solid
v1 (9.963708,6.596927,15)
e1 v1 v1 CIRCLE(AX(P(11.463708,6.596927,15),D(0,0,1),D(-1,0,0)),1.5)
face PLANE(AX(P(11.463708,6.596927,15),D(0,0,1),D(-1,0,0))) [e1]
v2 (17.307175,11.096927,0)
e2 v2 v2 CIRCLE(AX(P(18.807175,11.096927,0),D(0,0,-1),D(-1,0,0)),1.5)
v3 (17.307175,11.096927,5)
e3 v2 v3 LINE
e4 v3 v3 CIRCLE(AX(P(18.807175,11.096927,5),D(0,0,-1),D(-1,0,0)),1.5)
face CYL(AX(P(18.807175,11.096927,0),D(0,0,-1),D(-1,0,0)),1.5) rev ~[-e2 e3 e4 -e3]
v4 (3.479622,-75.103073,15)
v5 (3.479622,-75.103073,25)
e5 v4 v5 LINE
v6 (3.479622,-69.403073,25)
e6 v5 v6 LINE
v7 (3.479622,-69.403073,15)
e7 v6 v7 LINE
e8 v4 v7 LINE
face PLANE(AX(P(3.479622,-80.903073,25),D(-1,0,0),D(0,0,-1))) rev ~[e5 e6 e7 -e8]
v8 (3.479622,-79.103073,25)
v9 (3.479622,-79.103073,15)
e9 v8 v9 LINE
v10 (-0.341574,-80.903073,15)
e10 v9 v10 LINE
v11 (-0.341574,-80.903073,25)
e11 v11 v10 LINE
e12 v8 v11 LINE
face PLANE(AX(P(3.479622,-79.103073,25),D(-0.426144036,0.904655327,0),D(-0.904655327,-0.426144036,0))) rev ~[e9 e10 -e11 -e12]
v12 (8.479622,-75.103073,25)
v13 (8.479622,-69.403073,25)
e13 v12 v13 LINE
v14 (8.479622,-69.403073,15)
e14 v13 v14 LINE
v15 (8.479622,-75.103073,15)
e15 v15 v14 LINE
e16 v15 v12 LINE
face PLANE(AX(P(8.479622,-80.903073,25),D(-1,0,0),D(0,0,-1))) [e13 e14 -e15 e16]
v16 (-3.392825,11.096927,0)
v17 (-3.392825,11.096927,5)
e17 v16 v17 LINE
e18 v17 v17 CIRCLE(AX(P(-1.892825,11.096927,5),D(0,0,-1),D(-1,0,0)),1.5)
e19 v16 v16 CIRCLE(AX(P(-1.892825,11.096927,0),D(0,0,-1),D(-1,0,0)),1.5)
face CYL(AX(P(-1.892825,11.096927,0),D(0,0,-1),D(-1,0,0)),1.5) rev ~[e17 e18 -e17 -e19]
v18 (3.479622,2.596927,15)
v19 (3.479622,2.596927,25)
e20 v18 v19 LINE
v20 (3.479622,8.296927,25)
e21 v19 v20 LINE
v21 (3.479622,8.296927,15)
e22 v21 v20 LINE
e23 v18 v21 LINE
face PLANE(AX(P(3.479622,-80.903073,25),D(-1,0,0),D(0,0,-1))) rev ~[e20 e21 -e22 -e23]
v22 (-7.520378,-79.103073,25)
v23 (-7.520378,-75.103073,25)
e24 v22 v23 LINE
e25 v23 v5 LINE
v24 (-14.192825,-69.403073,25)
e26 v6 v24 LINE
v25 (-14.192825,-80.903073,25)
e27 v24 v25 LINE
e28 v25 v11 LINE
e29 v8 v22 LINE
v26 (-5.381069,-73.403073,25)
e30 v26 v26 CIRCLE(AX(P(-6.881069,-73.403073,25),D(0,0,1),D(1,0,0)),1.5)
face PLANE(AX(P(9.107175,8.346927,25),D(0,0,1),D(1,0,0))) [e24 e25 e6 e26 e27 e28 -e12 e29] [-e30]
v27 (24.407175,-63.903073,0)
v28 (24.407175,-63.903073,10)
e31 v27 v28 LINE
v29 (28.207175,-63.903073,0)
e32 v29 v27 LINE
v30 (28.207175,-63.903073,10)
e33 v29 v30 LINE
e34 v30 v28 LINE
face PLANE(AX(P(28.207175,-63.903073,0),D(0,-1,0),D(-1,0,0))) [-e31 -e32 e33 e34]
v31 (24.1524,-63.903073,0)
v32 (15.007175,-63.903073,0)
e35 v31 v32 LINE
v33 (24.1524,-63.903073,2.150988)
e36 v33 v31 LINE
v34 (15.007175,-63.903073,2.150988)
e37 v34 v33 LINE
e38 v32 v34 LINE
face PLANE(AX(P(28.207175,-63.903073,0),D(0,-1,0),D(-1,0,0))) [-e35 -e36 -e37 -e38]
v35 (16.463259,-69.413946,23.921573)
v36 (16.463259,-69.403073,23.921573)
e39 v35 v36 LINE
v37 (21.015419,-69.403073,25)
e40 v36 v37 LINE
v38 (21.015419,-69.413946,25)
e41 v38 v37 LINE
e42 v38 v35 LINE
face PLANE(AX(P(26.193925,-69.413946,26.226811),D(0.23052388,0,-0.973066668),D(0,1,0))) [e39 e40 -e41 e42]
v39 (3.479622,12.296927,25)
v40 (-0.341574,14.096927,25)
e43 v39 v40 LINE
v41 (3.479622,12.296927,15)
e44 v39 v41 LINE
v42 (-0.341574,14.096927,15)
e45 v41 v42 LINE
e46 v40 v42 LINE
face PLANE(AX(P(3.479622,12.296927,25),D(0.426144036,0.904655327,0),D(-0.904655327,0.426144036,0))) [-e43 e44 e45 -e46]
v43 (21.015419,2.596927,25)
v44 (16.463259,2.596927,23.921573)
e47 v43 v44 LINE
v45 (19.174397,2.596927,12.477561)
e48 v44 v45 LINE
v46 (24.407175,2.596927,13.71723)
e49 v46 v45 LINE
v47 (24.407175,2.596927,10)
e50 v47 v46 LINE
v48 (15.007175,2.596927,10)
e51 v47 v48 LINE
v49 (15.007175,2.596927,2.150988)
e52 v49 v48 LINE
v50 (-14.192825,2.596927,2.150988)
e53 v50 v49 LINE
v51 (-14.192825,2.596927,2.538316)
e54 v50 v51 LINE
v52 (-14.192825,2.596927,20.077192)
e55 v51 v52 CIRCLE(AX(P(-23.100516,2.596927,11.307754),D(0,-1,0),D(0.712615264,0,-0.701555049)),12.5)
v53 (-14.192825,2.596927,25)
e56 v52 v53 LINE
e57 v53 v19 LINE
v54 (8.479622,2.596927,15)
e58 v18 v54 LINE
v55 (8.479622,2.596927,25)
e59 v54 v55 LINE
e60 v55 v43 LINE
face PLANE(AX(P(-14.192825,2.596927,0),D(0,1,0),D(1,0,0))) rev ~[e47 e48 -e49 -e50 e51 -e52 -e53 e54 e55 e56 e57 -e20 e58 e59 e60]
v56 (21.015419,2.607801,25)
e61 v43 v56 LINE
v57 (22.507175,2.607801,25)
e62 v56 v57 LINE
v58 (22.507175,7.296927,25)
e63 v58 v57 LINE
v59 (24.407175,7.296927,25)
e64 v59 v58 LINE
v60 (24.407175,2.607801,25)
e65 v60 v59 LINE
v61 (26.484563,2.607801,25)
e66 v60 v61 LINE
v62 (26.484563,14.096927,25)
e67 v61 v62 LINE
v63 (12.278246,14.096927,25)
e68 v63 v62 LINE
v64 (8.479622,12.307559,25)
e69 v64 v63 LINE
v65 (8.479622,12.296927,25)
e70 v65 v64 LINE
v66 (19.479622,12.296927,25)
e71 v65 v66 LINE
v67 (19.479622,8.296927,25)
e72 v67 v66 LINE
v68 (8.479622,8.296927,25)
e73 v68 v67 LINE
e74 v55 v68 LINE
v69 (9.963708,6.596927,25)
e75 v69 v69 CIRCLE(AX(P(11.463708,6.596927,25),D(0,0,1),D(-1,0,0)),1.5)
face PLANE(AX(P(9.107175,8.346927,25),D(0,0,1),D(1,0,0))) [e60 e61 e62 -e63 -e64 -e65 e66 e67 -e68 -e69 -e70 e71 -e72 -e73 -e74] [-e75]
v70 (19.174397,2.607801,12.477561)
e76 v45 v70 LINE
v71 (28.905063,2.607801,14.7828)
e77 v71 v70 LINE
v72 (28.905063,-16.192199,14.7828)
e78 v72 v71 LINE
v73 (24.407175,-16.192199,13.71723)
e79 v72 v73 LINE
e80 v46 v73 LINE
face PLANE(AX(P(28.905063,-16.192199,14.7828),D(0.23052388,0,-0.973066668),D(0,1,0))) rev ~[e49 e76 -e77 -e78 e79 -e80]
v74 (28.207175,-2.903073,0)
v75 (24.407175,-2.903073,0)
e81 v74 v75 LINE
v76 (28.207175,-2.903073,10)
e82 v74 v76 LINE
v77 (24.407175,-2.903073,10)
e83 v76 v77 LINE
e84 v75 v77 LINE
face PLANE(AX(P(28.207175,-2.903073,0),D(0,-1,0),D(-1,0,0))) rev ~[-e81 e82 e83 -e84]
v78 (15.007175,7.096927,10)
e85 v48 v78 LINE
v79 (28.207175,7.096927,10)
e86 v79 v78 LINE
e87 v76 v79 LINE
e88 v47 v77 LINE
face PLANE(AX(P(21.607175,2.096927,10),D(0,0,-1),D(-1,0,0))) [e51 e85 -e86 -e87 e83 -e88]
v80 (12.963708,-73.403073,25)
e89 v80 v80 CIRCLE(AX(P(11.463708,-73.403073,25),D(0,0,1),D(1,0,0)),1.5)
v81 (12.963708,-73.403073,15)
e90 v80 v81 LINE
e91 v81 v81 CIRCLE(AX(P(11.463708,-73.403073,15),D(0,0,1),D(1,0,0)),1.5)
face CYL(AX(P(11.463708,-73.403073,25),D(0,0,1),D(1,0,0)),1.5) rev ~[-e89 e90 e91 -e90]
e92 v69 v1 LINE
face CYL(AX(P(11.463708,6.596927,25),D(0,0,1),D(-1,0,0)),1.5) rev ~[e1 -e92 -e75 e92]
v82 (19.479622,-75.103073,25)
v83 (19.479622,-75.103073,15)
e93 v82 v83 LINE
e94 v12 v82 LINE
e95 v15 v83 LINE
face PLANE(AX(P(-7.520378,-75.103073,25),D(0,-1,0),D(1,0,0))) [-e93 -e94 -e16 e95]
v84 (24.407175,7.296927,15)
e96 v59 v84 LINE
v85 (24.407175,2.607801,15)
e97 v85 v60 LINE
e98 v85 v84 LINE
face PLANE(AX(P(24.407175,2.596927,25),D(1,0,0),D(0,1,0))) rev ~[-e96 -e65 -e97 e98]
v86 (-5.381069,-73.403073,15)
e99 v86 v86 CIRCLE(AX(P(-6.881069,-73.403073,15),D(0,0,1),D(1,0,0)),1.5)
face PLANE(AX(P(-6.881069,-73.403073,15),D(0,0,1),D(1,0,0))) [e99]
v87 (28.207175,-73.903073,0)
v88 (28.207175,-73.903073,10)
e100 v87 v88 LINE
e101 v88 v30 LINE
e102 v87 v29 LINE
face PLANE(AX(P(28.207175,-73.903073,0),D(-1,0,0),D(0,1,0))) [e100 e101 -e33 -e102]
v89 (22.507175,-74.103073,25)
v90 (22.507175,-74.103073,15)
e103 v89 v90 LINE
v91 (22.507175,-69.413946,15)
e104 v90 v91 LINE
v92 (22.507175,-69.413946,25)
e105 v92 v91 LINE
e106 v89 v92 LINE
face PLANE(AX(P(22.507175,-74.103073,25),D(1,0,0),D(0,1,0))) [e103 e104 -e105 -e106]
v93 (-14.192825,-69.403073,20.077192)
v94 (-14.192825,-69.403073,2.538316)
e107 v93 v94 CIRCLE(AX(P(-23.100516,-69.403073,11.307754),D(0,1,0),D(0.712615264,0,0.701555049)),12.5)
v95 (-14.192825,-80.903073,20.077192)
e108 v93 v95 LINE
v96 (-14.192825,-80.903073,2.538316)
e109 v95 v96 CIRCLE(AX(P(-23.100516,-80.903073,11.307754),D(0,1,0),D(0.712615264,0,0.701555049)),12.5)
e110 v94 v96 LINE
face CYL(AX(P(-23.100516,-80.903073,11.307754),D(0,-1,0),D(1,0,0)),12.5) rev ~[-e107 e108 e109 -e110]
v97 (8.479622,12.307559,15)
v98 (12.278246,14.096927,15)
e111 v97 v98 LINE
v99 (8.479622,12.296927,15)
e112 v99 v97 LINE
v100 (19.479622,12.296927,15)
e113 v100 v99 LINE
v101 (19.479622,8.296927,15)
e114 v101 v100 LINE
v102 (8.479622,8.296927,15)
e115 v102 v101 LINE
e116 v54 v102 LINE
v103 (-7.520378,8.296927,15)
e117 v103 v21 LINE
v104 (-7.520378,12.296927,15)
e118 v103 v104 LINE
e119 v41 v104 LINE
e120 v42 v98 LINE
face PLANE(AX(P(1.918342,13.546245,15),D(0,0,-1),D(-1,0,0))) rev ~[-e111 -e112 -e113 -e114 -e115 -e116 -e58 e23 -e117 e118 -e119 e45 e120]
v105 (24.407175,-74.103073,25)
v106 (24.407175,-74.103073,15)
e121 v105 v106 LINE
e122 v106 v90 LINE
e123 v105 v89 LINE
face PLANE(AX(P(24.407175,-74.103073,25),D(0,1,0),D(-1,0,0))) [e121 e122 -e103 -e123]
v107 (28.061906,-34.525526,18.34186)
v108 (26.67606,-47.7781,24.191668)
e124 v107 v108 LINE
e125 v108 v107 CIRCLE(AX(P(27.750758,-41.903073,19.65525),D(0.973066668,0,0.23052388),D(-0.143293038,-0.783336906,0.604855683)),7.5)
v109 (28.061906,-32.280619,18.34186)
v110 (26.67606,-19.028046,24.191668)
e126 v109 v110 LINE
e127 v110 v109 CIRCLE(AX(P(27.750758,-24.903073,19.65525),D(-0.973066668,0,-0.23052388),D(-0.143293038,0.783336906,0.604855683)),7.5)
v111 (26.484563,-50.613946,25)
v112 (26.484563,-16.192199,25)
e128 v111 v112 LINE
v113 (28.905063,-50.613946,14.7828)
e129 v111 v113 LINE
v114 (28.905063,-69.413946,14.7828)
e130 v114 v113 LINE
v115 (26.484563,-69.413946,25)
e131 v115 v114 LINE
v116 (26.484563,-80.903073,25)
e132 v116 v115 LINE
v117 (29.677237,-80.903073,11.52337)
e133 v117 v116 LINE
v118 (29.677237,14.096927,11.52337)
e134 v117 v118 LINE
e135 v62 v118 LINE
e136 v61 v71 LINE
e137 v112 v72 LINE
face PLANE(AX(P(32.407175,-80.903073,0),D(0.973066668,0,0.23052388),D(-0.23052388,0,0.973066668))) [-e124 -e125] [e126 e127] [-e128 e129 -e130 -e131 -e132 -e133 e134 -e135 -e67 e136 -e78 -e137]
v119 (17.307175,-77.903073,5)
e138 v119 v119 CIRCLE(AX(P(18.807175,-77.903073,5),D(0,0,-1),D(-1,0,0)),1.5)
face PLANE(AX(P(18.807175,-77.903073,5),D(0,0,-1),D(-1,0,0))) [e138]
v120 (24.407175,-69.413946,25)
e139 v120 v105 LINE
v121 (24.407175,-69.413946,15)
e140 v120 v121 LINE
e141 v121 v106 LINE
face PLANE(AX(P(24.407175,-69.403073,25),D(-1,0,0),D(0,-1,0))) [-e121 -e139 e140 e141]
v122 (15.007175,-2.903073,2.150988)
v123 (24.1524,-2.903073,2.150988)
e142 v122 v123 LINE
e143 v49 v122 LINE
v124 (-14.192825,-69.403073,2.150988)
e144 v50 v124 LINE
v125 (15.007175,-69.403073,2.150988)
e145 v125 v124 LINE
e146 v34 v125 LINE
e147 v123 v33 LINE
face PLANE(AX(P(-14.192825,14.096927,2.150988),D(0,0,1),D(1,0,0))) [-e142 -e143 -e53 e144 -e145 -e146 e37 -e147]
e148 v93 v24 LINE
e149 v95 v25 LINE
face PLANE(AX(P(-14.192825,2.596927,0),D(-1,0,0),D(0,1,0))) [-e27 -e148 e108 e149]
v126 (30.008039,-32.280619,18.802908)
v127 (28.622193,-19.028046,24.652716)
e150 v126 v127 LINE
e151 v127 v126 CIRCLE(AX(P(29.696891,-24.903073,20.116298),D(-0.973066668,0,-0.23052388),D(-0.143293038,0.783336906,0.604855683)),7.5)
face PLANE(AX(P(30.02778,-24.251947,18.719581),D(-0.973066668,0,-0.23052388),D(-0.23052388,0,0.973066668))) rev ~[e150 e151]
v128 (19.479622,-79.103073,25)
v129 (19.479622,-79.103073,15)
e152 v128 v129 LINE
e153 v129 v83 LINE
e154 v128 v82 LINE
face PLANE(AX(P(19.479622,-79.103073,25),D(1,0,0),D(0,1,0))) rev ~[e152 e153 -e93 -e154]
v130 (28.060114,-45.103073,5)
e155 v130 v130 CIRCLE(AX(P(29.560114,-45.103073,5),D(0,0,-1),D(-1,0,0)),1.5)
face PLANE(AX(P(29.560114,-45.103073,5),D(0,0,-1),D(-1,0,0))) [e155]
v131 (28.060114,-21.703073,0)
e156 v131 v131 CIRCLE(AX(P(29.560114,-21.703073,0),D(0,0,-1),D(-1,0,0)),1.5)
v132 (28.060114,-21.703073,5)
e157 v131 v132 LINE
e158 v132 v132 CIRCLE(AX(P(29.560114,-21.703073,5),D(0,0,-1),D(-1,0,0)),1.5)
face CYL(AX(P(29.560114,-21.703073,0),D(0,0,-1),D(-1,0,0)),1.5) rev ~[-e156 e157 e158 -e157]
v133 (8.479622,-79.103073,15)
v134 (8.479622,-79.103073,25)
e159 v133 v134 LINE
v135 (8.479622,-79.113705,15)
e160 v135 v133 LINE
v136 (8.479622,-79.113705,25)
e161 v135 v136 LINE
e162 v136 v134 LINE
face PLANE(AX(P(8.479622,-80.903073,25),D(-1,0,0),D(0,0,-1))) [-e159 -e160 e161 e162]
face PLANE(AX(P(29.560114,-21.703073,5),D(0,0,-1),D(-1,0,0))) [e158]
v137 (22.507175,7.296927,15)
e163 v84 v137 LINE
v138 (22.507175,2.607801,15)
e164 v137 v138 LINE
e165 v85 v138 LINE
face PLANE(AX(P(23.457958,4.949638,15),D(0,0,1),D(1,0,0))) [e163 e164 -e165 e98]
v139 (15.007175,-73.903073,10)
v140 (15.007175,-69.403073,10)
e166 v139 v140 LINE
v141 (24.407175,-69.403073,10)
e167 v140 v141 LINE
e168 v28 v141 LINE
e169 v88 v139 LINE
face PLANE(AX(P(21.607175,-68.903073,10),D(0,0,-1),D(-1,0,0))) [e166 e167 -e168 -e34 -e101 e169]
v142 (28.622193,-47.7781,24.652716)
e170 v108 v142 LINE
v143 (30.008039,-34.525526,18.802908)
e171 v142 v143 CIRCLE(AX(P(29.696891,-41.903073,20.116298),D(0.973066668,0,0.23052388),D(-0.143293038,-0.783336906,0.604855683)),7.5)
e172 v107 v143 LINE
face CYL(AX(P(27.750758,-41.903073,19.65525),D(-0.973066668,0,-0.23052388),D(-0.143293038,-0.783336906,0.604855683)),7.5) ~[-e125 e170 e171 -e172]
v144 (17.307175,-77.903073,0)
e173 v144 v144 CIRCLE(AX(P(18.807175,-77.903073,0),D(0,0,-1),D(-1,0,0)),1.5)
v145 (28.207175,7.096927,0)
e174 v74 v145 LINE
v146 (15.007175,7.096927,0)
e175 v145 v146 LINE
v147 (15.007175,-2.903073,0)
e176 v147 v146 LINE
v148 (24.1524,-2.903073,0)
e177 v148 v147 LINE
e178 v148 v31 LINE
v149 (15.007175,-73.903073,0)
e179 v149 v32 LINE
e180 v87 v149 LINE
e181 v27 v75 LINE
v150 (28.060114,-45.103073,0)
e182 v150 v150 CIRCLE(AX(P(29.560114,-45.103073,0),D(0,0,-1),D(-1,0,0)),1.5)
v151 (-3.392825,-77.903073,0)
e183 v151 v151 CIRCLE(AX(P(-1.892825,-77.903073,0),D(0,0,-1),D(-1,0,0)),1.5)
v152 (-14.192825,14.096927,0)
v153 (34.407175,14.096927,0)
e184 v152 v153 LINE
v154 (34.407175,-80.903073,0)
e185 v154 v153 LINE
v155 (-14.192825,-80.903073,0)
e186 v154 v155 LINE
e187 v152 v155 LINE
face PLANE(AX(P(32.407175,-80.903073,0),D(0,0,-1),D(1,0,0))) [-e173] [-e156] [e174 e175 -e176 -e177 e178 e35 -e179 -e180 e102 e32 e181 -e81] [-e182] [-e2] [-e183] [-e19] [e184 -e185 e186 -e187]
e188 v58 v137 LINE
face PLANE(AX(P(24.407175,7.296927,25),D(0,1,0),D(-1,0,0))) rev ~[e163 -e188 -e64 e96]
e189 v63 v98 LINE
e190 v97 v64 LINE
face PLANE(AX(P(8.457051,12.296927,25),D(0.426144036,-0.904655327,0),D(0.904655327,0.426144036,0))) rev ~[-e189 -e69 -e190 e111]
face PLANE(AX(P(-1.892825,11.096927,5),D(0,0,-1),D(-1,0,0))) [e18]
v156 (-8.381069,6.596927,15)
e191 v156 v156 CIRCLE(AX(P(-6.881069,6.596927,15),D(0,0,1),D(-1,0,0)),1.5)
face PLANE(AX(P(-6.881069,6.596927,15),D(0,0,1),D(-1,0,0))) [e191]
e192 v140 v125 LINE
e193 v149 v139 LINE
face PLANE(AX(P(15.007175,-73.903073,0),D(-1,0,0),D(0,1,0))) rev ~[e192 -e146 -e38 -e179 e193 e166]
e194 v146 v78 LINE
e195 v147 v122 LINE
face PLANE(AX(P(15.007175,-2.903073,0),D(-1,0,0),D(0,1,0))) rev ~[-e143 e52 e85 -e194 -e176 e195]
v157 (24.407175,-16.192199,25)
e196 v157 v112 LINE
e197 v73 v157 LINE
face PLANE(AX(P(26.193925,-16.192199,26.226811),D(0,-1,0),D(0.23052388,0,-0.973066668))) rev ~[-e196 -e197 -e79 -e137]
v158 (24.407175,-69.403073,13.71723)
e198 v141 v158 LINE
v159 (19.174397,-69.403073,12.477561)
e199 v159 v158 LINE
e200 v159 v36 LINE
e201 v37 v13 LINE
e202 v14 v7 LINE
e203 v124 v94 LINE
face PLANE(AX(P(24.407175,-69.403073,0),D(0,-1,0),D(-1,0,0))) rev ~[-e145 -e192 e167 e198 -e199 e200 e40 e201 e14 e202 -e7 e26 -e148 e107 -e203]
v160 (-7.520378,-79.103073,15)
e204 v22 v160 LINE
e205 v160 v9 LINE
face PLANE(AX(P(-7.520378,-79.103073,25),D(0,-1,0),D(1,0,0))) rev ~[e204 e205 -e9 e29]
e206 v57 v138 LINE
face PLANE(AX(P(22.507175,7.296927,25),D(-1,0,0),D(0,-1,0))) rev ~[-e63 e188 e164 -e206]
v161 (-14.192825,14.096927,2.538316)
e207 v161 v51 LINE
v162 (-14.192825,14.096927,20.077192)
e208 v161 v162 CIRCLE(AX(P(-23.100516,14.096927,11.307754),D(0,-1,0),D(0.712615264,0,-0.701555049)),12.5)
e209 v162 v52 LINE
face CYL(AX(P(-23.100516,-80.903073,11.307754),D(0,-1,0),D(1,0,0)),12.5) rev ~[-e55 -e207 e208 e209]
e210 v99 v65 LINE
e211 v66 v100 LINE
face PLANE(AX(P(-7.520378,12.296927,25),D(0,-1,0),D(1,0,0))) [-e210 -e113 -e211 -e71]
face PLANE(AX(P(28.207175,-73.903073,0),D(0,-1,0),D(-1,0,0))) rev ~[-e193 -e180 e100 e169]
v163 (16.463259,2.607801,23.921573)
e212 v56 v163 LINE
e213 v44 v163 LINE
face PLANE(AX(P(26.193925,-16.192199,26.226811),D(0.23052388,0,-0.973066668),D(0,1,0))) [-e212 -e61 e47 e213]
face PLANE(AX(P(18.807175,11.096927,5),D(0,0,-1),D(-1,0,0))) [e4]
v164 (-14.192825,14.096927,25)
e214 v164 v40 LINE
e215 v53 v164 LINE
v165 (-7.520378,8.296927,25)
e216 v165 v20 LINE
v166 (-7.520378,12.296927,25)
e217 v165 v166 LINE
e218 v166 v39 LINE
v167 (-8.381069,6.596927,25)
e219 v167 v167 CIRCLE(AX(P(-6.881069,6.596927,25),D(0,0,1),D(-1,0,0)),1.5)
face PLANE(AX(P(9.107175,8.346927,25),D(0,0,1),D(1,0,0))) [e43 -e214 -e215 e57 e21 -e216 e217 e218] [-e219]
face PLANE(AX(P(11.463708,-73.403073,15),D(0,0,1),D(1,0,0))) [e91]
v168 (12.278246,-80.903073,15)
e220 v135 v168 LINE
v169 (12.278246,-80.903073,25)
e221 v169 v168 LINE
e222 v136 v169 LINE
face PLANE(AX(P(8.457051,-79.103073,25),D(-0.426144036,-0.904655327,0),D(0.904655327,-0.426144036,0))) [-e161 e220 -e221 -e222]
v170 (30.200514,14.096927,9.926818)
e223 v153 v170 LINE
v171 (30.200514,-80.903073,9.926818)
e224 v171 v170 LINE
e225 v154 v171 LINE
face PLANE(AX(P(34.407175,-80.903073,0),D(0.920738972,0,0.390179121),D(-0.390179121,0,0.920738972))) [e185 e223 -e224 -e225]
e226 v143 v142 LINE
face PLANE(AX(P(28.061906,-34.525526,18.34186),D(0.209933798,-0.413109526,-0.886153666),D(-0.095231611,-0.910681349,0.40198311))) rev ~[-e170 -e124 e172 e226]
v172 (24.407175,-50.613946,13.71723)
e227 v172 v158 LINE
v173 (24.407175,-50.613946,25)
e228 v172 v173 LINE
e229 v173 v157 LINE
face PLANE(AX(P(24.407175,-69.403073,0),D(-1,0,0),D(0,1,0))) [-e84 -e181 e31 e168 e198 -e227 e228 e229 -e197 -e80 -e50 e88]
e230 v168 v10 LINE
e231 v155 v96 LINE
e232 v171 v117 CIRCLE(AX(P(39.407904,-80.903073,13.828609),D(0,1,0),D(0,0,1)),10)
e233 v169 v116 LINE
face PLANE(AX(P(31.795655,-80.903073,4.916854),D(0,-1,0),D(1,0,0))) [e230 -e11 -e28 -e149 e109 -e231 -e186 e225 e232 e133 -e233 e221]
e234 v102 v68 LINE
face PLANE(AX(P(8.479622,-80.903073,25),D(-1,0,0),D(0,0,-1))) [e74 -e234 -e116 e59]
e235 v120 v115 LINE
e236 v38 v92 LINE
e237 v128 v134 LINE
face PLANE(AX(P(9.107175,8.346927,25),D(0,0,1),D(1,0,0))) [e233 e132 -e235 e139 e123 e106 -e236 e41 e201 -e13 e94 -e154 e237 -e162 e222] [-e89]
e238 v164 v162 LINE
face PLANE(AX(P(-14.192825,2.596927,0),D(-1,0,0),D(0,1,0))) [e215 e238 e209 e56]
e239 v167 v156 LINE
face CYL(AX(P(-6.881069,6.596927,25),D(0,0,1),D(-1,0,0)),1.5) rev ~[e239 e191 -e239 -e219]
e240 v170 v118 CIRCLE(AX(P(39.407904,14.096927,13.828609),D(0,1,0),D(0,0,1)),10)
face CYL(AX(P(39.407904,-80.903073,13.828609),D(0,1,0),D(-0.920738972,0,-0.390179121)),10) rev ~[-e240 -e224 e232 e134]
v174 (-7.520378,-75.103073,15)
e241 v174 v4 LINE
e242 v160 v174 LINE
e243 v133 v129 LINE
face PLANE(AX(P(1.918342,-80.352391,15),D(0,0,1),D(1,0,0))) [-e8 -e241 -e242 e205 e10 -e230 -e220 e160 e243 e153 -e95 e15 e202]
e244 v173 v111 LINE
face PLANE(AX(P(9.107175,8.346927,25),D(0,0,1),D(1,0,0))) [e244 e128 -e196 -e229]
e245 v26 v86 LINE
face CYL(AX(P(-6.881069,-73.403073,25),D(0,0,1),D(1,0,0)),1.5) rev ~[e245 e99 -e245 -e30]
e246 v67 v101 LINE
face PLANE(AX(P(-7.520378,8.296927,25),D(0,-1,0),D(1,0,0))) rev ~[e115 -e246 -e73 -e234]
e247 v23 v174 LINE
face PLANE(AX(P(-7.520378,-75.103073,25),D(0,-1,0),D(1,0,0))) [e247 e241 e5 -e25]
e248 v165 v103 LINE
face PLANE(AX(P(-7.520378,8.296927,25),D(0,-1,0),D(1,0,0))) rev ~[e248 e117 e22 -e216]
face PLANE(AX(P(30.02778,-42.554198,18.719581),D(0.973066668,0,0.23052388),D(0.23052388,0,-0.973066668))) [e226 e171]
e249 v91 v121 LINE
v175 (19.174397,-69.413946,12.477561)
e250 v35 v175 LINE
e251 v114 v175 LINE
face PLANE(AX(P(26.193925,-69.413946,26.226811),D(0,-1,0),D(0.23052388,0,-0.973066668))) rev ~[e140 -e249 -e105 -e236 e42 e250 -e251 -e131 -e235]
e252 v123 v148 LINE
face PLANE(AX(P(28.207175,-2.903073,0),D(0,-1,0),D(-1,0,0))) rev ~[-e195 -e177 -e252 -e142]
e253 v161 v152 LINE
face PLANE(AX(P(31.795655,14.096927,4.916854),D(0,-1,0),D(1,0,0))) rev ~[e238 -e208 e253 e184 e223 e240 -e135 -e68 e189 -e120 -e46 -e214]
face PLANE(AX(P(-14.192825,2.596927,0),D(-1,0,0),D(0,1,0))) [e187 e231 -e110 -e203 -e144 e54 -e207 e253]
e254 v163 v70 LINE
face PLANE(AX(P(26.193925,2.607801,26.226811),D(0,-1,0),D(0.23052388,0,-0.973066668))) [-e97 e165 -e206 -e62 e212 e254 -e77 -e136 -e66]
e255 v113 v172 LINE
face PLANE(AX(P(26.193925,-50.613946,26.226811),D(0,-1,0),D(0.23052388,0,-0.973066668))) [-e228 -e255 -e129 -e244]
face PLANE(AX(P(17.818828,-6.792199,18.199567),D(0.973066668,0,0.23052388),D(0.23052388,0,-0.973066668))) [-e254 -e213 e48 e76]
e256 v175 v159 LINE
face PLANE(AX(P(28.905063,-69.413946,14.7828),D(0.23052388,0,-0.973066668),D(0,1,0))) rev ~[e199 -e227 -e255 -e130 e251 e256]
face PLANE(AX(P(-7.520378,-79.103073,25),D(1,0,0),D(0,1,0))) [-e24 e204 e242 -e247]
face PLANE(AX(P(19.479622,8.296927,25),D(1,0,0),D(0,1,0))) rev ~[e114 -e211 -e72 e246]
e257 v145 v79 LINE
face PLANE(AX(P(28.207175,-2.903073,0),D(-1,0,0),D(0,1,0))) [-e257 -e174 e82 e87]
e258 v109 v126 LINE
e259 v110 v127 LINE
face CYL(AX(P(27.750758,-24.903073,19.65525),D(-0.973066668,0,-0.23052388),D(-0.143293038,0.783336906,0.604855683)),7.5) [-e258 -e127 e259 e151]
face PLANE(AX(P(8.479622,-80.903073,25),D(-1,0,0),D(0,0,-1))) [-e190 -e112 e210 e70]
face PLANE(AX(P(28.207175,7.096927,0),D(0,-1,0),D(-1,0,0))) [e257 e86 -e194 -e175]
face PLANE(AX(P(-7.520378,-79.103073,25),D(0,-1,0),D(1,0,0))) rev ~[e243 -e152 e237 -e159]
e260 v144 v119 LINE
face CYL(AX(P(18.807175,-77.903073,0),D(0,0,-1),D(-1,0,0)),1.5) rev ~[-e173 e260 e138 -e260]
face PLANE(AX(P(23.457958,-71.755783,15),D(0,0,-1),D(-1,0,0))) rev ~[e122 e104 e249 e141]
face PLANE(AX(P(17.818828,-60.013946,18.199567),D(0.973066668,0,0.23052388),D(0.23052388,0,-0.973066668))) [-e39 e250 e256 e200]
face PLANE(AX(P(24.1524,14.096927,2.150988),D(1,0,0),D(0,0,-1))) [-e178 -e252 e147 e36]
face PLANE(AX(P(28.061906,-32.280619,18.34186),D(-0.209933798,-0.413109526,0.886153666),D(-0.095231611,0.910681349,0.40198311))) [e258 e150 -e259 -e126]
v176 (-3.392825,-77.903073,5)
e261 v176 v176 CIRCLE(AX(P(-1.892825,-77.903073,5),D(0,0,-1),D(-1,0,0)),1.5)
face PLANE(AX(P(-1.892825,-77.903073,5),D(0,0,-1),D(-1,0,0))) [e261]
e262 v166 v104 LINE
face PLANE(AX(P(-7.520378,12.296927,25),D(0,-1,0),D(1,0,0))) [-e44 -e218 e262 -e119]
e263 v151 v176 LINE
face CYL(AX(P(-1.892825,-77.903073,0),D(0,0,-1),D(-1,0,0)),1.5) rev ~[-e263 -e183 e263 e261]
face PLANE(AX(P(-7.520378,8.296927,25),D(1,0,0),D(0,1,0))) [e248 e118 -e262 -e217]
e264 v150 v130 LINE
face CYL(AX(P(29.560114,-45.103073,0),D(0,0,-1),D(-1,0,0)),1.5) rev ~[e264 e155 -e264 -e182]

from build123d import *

# Parameters (mm, degrees)
CROQUIS1_W              = 46.6
CROQUIS1_H              = 11.5
CROQUIS1_W_2            = 8
CROQUIS1_H_2            = 72
SALIENTE_EXTRUIR1_DEPTH = 25
CROQUIS3_W              = 30
CROQUIS3_H              = 5
CORTAR_EXTRUIR1_DEPTH   = 100
CROQUIS4_W              = 5
CROQUIS4_H              = 10
CORTAR_EXTRUIR2_DEPTH   = 2000
CORTAR_EXTRUIR3_DEPTH   = 2000
CROQUIS7_W              = 38.34522513
CROQUIS7_H              = 2.150988128
SALIENTE_EXTRUIR2_DEPTH = 90
CROQUIS8_W              = 13.2
CROQUIS8_H              = 10
CORTAR_EXTRUIR4_DEPTH   = 10
SALIENTE_EXTRUIR3_DEPTH = 95
CROQUIS10_R             = 12.5
CORTAR_EXTRUIR5_DEPTH   = 95
SALIENTE_EXTRUIR4_DEPTH = 2
REDONDEO1_R             = 10
CROQUIS13_R             = 1.5
CORTAR_EXTRUIR7_DEPTH   = 5
CROQUIS16_W             = 11.760768102
CROQUIS16_H             = 18.8
CORTAR_EXTRUIR9_DEPTH   = 10
CORTAR_EXTRUIR10_DEPTH  = 10
CROQUIS18_W             = 27
CROQUIS18_H             = 4
CORTAR_EXTRUIR11_DEPTH  = 10
CROQUIS20_R             = 1.5
CORTAR_EXTRUIR12_DEPTH  = 10


with BuildPart() as part:
    # Croquis1 → Saliente-Extruir1 (new body)
    with BuildSketch(Plane.XY):
        with Locations((9.10717527, 8.346927266)):
            Rectangle(CROQUIS1_W, CROQUIS1_H)
        with Locations((28.40717527, -33.403072734)):
            Rectangle(CROQUIS1_W_2, CROQUIS1_H_2)
        Polygon((32.40717527, -80.903072734), (32.40717527, -69.403072734), (24.40717527, -69.403072734), (-14.19282473, -69.403072734), (-14.19282473, -80.903072734), align=None)
    extrude(amount=SALIENTE_EXTRUIR1_DEPTH)

    # Croquis3 → Cortar-Extruir1 (cut)
    with BuildSketch(Plane(origin=(32.40717527, 0, 0), x_dir=(0, 0, -1), z_dir=(1, 0, 0))):
        with Locations((-30, -60.403072734)):
            Rectangle(CROQUIS3_W, CROQUIS3_H)
        with Locations((-30, -6.403072734)):
            Rectangle(CROQUIS3_W, CROQUIS3_H)
    extrude(amount=-CORTAR_EXTRUIR1_DEPTH, mode=Mode.SUBTRACT)

    # Croquis4 → Cortar-Extruir2 (cut)
    with BuildSketch(Plane(origin=(0, -80.903072734, 0), x_dir=(-1, 0, 0), z_dir=(0, -1, 0))):
        with Locations((-5.979621663, -20)):
            Rectangle(CROQUIS4_W, CROQUIS4_H)
    extrude(amount=-CORTAR_EXTRUIR2_DEPTH, mode=Mode.SUBTRACT)

    # Croquis5 → Cortar-Extruir3 (cut)
    with BuildSketch(Plane.XZ.offset(80.903072734)):
        Polygon((32.40717527, 0), (26.484562574, 25), (32.40717527, 25), align=None)
    extrude(amount=-CORTAR_EXTRUIR3_DEPTH, mode=Mode.SUBTRACT)

    # Croquis7 → Saliente-Extruir2 (add)
    with BuildSketch(Plane(origin=(0, 14.096927266, 0), x_dir=(1, 0, 0), z_dir=(0, 1, 0))):
        with Locations((4.979787835, -1.075494064)):
            Rectangle(CROQUIS7_W, CROQUIS7_H)
    extrude(amount=-SALIENTE_EXTRUIR2_DEPTH)

    # Croquis8 → Cortar-Extruir4 (cut)
    with BuildSketch(Plane(origin=(0, 0, 0), x_dir=(-1, 0, 0), z_dir=(0, 0, -1))):
        with Locations((-21.60717527, 2.096927266)):
            Rectangle(CROQUIS8_W, CROQUIS8_H)
        with Locations((-21.60717527, -68.903072734)):
            Rectangle(CROQUIS8_W, CROQUIS8_H)
    extrude(amount=-CORTAR_EXTRUIR4_DEPTH, mode=Mode.SUBTRACT)

    # Croquis9 → Saliente-Extruir3 (add)
    with BuildSketch(Plane.XZ.offset(80.903072734)):
        Polygon((32.40717527, 0), (34.40717527, 0), (29.871577543, 10.70303706), align=None)
    extrude(amount=-SALIENTE_EXTRUIR3_DEPTH)

    # Croquis10 → Cortar-Extruir5 (cut)
    with BuildSketch(Plane.XZ.offset(80.903072734)):
        with Locations((-23.100515524, 11.30775419)):
            Circle(CROQUIS10_R)
    extrude(amount=-CORTAR_EXTRUIR5_DEPTH, mode=Mode.SUBTRACT)

    # Croquis11 → Saliente-Extruir4 (add)
    with BuildSketch(Plane(origin=(30.685017166, 0, 7.26941889), x_dir=(0.2305238801243756, 0, -0.9730666681643158), z_dir=(0.9730666681643156, 0, 0.23052388012437558))):
        with BuildLine():
            Line((-11.378913607, -34.525526143), (-17.390636934, -47.778099529))
            ThreePointArc((-17.390636934, -47.778099529), (-5.898546533, -45.001394179), (-11.378913607, -34.525526143))
        make_face()
        with BuildLine():
            Line((-11.378913607, -32.280619326), (-17.390636934, -19.028045939))
            ThreePointArc((-17.390636934, -19.028045939), (-5.898546533, -21.804751289), (-11.378913607, -32.280619326))
        make_face()
    extrude(amount=SALIENTE_EXTRUIR4_DEPTH)

    # Redondeo1
    redondeo1_edges = [part.edges().sort_by_distance(p)[0] for p in [
        (29.871577543, -33.403072734, 10.70303706),
    ]]
    fillet(redondeo1_edges, radius=REDONDEO1_R)

    # Croquis13 → Cortar-Extruir7 (cut)
    with BuildSketch(Plane(origin=(0, 0, 0), x_dir=(-1, 0, 0), z_dir=(0, 0, -1))):
        with Locations((-18.80717527, -77.903072734)):
            Circle(CROQUIS13_R)
        with Locations((1.89282473, -77.903072734)):
            Circle(CROQUIS13_R)
        with Locations((-29.560114376, -45.103072734)):
            Circle(CROQUIS13_R)
        with Locations((-29.560114376, -21.703072734)):
            Circle(CROQUIS13_R)
        with Locations((-18.80717527, 11.096927266)):
            Circle(CROQUIS13_R)
        with Locations((1.89282473, 11.096927266)):
            Circle(CROQUIS13_R)
    extrude(amount=-CORTAR_EXTRUIR7_DEPTH, mode=Mode.SUBTRACT)

    # Croquis16 → Cortar-Extruir9 (cut)
    with BuildSketch(Plane(origin=(30.685017166, 0, 7.26941889), x_dir=(0.2305238801243756, 0, -0.9730666681643158), z_dir=(0.9730666681643156, 0, 0.23052388012437558))):
        with Locations((-13.601726627, -60.013945982)):
            Rectangle(CROQUIS16_W, CROQUIS16_H)
        with Locations((-13.601726627, -6.792199486)):
            Rectangle(CROQUIS16_W, CROQUIS16_H)
    extrude(amount=-CORTAR_EXTRUIR9_DEPTH, mode=Mode.SUBTRACT)

    # Croquis17 → Cortar-Extruir10 (cut)
    with BuildSketch(Plane.XY.offset(25)):
        Polygon((24.40717527, -69.403072734), (24.40717527, -74.103072734), (22.50717527, -74.103072734), (22.50717527, -69.413945982), align=None)
        Polygon((22.50717527, 2.607800514), (24.40717527, 2.596927266), (24.40717527, 7.296927266), (22.50717527, 7.296927266), align=None)
    extrude(amount=-CORTAR_EXTRUIR10_DEPTH, mode=Mode.SUBTRACT)

    # Croquis18 → Cortar-Extruir11 (cut)
    with BuildSketch(Plane.XY.offset(25)):
        Polygon((3.479621663, -80.903072734), (3.479621663, -79.103072734), (-0.341573642, -80.903072734), align=None)
        Polygon((8.479621663, -80.903072734), (8.457050966, -79.103072734), (12.278246271, -80.903072734), align=None)
        with Locations((5.979621663, 10.296927266)):
            Rectangle(CROQUIS18_W, CROQUIS18_H)
        Polygon((12.278246271, 14.096927266), (8.479621663, 14.096927266), (8.457050966, 12.296927266), align=None)
        with Locations((5.979621663, -77.103072734)):
            Rectangle(CROQUIS18_W, CROQUIS18_H)
        Polygon((3.479621663, 12.296927266), (-0.341573642, 14.096927266), (3.479621663, 14.096927266), align=None)
    extrude(amount=-CORTAR_EXTRUIR11_DEPTH, mode=Mode.SUBTRACT)

    # Croquis20 → Cortar-Extruir12 (cut)
    with BuildSketch(Plane.XY.offset(25)):
        with Locations((11.463707662, -73.403072734)):
            Circle(CROQUIS20_R)
        with Locations((-6.881069151, -73.403072734)):
            Circle(CROQUIS20_R)
        with Locations(Location((11.463707662, 6.596927266, 0), (0, 0, 180))):
            Circle(CROQUIS20_R)
        with Locations(Location((-6.881069151, 6.596927266, 0), (0, 0, 180))):
            Circle(CROQUIS20_R)
    extrude(amount=-CORTAR_EXTRUIR12_DEPTH, mode=Mode.SUBTRACT)


solid = part.part
